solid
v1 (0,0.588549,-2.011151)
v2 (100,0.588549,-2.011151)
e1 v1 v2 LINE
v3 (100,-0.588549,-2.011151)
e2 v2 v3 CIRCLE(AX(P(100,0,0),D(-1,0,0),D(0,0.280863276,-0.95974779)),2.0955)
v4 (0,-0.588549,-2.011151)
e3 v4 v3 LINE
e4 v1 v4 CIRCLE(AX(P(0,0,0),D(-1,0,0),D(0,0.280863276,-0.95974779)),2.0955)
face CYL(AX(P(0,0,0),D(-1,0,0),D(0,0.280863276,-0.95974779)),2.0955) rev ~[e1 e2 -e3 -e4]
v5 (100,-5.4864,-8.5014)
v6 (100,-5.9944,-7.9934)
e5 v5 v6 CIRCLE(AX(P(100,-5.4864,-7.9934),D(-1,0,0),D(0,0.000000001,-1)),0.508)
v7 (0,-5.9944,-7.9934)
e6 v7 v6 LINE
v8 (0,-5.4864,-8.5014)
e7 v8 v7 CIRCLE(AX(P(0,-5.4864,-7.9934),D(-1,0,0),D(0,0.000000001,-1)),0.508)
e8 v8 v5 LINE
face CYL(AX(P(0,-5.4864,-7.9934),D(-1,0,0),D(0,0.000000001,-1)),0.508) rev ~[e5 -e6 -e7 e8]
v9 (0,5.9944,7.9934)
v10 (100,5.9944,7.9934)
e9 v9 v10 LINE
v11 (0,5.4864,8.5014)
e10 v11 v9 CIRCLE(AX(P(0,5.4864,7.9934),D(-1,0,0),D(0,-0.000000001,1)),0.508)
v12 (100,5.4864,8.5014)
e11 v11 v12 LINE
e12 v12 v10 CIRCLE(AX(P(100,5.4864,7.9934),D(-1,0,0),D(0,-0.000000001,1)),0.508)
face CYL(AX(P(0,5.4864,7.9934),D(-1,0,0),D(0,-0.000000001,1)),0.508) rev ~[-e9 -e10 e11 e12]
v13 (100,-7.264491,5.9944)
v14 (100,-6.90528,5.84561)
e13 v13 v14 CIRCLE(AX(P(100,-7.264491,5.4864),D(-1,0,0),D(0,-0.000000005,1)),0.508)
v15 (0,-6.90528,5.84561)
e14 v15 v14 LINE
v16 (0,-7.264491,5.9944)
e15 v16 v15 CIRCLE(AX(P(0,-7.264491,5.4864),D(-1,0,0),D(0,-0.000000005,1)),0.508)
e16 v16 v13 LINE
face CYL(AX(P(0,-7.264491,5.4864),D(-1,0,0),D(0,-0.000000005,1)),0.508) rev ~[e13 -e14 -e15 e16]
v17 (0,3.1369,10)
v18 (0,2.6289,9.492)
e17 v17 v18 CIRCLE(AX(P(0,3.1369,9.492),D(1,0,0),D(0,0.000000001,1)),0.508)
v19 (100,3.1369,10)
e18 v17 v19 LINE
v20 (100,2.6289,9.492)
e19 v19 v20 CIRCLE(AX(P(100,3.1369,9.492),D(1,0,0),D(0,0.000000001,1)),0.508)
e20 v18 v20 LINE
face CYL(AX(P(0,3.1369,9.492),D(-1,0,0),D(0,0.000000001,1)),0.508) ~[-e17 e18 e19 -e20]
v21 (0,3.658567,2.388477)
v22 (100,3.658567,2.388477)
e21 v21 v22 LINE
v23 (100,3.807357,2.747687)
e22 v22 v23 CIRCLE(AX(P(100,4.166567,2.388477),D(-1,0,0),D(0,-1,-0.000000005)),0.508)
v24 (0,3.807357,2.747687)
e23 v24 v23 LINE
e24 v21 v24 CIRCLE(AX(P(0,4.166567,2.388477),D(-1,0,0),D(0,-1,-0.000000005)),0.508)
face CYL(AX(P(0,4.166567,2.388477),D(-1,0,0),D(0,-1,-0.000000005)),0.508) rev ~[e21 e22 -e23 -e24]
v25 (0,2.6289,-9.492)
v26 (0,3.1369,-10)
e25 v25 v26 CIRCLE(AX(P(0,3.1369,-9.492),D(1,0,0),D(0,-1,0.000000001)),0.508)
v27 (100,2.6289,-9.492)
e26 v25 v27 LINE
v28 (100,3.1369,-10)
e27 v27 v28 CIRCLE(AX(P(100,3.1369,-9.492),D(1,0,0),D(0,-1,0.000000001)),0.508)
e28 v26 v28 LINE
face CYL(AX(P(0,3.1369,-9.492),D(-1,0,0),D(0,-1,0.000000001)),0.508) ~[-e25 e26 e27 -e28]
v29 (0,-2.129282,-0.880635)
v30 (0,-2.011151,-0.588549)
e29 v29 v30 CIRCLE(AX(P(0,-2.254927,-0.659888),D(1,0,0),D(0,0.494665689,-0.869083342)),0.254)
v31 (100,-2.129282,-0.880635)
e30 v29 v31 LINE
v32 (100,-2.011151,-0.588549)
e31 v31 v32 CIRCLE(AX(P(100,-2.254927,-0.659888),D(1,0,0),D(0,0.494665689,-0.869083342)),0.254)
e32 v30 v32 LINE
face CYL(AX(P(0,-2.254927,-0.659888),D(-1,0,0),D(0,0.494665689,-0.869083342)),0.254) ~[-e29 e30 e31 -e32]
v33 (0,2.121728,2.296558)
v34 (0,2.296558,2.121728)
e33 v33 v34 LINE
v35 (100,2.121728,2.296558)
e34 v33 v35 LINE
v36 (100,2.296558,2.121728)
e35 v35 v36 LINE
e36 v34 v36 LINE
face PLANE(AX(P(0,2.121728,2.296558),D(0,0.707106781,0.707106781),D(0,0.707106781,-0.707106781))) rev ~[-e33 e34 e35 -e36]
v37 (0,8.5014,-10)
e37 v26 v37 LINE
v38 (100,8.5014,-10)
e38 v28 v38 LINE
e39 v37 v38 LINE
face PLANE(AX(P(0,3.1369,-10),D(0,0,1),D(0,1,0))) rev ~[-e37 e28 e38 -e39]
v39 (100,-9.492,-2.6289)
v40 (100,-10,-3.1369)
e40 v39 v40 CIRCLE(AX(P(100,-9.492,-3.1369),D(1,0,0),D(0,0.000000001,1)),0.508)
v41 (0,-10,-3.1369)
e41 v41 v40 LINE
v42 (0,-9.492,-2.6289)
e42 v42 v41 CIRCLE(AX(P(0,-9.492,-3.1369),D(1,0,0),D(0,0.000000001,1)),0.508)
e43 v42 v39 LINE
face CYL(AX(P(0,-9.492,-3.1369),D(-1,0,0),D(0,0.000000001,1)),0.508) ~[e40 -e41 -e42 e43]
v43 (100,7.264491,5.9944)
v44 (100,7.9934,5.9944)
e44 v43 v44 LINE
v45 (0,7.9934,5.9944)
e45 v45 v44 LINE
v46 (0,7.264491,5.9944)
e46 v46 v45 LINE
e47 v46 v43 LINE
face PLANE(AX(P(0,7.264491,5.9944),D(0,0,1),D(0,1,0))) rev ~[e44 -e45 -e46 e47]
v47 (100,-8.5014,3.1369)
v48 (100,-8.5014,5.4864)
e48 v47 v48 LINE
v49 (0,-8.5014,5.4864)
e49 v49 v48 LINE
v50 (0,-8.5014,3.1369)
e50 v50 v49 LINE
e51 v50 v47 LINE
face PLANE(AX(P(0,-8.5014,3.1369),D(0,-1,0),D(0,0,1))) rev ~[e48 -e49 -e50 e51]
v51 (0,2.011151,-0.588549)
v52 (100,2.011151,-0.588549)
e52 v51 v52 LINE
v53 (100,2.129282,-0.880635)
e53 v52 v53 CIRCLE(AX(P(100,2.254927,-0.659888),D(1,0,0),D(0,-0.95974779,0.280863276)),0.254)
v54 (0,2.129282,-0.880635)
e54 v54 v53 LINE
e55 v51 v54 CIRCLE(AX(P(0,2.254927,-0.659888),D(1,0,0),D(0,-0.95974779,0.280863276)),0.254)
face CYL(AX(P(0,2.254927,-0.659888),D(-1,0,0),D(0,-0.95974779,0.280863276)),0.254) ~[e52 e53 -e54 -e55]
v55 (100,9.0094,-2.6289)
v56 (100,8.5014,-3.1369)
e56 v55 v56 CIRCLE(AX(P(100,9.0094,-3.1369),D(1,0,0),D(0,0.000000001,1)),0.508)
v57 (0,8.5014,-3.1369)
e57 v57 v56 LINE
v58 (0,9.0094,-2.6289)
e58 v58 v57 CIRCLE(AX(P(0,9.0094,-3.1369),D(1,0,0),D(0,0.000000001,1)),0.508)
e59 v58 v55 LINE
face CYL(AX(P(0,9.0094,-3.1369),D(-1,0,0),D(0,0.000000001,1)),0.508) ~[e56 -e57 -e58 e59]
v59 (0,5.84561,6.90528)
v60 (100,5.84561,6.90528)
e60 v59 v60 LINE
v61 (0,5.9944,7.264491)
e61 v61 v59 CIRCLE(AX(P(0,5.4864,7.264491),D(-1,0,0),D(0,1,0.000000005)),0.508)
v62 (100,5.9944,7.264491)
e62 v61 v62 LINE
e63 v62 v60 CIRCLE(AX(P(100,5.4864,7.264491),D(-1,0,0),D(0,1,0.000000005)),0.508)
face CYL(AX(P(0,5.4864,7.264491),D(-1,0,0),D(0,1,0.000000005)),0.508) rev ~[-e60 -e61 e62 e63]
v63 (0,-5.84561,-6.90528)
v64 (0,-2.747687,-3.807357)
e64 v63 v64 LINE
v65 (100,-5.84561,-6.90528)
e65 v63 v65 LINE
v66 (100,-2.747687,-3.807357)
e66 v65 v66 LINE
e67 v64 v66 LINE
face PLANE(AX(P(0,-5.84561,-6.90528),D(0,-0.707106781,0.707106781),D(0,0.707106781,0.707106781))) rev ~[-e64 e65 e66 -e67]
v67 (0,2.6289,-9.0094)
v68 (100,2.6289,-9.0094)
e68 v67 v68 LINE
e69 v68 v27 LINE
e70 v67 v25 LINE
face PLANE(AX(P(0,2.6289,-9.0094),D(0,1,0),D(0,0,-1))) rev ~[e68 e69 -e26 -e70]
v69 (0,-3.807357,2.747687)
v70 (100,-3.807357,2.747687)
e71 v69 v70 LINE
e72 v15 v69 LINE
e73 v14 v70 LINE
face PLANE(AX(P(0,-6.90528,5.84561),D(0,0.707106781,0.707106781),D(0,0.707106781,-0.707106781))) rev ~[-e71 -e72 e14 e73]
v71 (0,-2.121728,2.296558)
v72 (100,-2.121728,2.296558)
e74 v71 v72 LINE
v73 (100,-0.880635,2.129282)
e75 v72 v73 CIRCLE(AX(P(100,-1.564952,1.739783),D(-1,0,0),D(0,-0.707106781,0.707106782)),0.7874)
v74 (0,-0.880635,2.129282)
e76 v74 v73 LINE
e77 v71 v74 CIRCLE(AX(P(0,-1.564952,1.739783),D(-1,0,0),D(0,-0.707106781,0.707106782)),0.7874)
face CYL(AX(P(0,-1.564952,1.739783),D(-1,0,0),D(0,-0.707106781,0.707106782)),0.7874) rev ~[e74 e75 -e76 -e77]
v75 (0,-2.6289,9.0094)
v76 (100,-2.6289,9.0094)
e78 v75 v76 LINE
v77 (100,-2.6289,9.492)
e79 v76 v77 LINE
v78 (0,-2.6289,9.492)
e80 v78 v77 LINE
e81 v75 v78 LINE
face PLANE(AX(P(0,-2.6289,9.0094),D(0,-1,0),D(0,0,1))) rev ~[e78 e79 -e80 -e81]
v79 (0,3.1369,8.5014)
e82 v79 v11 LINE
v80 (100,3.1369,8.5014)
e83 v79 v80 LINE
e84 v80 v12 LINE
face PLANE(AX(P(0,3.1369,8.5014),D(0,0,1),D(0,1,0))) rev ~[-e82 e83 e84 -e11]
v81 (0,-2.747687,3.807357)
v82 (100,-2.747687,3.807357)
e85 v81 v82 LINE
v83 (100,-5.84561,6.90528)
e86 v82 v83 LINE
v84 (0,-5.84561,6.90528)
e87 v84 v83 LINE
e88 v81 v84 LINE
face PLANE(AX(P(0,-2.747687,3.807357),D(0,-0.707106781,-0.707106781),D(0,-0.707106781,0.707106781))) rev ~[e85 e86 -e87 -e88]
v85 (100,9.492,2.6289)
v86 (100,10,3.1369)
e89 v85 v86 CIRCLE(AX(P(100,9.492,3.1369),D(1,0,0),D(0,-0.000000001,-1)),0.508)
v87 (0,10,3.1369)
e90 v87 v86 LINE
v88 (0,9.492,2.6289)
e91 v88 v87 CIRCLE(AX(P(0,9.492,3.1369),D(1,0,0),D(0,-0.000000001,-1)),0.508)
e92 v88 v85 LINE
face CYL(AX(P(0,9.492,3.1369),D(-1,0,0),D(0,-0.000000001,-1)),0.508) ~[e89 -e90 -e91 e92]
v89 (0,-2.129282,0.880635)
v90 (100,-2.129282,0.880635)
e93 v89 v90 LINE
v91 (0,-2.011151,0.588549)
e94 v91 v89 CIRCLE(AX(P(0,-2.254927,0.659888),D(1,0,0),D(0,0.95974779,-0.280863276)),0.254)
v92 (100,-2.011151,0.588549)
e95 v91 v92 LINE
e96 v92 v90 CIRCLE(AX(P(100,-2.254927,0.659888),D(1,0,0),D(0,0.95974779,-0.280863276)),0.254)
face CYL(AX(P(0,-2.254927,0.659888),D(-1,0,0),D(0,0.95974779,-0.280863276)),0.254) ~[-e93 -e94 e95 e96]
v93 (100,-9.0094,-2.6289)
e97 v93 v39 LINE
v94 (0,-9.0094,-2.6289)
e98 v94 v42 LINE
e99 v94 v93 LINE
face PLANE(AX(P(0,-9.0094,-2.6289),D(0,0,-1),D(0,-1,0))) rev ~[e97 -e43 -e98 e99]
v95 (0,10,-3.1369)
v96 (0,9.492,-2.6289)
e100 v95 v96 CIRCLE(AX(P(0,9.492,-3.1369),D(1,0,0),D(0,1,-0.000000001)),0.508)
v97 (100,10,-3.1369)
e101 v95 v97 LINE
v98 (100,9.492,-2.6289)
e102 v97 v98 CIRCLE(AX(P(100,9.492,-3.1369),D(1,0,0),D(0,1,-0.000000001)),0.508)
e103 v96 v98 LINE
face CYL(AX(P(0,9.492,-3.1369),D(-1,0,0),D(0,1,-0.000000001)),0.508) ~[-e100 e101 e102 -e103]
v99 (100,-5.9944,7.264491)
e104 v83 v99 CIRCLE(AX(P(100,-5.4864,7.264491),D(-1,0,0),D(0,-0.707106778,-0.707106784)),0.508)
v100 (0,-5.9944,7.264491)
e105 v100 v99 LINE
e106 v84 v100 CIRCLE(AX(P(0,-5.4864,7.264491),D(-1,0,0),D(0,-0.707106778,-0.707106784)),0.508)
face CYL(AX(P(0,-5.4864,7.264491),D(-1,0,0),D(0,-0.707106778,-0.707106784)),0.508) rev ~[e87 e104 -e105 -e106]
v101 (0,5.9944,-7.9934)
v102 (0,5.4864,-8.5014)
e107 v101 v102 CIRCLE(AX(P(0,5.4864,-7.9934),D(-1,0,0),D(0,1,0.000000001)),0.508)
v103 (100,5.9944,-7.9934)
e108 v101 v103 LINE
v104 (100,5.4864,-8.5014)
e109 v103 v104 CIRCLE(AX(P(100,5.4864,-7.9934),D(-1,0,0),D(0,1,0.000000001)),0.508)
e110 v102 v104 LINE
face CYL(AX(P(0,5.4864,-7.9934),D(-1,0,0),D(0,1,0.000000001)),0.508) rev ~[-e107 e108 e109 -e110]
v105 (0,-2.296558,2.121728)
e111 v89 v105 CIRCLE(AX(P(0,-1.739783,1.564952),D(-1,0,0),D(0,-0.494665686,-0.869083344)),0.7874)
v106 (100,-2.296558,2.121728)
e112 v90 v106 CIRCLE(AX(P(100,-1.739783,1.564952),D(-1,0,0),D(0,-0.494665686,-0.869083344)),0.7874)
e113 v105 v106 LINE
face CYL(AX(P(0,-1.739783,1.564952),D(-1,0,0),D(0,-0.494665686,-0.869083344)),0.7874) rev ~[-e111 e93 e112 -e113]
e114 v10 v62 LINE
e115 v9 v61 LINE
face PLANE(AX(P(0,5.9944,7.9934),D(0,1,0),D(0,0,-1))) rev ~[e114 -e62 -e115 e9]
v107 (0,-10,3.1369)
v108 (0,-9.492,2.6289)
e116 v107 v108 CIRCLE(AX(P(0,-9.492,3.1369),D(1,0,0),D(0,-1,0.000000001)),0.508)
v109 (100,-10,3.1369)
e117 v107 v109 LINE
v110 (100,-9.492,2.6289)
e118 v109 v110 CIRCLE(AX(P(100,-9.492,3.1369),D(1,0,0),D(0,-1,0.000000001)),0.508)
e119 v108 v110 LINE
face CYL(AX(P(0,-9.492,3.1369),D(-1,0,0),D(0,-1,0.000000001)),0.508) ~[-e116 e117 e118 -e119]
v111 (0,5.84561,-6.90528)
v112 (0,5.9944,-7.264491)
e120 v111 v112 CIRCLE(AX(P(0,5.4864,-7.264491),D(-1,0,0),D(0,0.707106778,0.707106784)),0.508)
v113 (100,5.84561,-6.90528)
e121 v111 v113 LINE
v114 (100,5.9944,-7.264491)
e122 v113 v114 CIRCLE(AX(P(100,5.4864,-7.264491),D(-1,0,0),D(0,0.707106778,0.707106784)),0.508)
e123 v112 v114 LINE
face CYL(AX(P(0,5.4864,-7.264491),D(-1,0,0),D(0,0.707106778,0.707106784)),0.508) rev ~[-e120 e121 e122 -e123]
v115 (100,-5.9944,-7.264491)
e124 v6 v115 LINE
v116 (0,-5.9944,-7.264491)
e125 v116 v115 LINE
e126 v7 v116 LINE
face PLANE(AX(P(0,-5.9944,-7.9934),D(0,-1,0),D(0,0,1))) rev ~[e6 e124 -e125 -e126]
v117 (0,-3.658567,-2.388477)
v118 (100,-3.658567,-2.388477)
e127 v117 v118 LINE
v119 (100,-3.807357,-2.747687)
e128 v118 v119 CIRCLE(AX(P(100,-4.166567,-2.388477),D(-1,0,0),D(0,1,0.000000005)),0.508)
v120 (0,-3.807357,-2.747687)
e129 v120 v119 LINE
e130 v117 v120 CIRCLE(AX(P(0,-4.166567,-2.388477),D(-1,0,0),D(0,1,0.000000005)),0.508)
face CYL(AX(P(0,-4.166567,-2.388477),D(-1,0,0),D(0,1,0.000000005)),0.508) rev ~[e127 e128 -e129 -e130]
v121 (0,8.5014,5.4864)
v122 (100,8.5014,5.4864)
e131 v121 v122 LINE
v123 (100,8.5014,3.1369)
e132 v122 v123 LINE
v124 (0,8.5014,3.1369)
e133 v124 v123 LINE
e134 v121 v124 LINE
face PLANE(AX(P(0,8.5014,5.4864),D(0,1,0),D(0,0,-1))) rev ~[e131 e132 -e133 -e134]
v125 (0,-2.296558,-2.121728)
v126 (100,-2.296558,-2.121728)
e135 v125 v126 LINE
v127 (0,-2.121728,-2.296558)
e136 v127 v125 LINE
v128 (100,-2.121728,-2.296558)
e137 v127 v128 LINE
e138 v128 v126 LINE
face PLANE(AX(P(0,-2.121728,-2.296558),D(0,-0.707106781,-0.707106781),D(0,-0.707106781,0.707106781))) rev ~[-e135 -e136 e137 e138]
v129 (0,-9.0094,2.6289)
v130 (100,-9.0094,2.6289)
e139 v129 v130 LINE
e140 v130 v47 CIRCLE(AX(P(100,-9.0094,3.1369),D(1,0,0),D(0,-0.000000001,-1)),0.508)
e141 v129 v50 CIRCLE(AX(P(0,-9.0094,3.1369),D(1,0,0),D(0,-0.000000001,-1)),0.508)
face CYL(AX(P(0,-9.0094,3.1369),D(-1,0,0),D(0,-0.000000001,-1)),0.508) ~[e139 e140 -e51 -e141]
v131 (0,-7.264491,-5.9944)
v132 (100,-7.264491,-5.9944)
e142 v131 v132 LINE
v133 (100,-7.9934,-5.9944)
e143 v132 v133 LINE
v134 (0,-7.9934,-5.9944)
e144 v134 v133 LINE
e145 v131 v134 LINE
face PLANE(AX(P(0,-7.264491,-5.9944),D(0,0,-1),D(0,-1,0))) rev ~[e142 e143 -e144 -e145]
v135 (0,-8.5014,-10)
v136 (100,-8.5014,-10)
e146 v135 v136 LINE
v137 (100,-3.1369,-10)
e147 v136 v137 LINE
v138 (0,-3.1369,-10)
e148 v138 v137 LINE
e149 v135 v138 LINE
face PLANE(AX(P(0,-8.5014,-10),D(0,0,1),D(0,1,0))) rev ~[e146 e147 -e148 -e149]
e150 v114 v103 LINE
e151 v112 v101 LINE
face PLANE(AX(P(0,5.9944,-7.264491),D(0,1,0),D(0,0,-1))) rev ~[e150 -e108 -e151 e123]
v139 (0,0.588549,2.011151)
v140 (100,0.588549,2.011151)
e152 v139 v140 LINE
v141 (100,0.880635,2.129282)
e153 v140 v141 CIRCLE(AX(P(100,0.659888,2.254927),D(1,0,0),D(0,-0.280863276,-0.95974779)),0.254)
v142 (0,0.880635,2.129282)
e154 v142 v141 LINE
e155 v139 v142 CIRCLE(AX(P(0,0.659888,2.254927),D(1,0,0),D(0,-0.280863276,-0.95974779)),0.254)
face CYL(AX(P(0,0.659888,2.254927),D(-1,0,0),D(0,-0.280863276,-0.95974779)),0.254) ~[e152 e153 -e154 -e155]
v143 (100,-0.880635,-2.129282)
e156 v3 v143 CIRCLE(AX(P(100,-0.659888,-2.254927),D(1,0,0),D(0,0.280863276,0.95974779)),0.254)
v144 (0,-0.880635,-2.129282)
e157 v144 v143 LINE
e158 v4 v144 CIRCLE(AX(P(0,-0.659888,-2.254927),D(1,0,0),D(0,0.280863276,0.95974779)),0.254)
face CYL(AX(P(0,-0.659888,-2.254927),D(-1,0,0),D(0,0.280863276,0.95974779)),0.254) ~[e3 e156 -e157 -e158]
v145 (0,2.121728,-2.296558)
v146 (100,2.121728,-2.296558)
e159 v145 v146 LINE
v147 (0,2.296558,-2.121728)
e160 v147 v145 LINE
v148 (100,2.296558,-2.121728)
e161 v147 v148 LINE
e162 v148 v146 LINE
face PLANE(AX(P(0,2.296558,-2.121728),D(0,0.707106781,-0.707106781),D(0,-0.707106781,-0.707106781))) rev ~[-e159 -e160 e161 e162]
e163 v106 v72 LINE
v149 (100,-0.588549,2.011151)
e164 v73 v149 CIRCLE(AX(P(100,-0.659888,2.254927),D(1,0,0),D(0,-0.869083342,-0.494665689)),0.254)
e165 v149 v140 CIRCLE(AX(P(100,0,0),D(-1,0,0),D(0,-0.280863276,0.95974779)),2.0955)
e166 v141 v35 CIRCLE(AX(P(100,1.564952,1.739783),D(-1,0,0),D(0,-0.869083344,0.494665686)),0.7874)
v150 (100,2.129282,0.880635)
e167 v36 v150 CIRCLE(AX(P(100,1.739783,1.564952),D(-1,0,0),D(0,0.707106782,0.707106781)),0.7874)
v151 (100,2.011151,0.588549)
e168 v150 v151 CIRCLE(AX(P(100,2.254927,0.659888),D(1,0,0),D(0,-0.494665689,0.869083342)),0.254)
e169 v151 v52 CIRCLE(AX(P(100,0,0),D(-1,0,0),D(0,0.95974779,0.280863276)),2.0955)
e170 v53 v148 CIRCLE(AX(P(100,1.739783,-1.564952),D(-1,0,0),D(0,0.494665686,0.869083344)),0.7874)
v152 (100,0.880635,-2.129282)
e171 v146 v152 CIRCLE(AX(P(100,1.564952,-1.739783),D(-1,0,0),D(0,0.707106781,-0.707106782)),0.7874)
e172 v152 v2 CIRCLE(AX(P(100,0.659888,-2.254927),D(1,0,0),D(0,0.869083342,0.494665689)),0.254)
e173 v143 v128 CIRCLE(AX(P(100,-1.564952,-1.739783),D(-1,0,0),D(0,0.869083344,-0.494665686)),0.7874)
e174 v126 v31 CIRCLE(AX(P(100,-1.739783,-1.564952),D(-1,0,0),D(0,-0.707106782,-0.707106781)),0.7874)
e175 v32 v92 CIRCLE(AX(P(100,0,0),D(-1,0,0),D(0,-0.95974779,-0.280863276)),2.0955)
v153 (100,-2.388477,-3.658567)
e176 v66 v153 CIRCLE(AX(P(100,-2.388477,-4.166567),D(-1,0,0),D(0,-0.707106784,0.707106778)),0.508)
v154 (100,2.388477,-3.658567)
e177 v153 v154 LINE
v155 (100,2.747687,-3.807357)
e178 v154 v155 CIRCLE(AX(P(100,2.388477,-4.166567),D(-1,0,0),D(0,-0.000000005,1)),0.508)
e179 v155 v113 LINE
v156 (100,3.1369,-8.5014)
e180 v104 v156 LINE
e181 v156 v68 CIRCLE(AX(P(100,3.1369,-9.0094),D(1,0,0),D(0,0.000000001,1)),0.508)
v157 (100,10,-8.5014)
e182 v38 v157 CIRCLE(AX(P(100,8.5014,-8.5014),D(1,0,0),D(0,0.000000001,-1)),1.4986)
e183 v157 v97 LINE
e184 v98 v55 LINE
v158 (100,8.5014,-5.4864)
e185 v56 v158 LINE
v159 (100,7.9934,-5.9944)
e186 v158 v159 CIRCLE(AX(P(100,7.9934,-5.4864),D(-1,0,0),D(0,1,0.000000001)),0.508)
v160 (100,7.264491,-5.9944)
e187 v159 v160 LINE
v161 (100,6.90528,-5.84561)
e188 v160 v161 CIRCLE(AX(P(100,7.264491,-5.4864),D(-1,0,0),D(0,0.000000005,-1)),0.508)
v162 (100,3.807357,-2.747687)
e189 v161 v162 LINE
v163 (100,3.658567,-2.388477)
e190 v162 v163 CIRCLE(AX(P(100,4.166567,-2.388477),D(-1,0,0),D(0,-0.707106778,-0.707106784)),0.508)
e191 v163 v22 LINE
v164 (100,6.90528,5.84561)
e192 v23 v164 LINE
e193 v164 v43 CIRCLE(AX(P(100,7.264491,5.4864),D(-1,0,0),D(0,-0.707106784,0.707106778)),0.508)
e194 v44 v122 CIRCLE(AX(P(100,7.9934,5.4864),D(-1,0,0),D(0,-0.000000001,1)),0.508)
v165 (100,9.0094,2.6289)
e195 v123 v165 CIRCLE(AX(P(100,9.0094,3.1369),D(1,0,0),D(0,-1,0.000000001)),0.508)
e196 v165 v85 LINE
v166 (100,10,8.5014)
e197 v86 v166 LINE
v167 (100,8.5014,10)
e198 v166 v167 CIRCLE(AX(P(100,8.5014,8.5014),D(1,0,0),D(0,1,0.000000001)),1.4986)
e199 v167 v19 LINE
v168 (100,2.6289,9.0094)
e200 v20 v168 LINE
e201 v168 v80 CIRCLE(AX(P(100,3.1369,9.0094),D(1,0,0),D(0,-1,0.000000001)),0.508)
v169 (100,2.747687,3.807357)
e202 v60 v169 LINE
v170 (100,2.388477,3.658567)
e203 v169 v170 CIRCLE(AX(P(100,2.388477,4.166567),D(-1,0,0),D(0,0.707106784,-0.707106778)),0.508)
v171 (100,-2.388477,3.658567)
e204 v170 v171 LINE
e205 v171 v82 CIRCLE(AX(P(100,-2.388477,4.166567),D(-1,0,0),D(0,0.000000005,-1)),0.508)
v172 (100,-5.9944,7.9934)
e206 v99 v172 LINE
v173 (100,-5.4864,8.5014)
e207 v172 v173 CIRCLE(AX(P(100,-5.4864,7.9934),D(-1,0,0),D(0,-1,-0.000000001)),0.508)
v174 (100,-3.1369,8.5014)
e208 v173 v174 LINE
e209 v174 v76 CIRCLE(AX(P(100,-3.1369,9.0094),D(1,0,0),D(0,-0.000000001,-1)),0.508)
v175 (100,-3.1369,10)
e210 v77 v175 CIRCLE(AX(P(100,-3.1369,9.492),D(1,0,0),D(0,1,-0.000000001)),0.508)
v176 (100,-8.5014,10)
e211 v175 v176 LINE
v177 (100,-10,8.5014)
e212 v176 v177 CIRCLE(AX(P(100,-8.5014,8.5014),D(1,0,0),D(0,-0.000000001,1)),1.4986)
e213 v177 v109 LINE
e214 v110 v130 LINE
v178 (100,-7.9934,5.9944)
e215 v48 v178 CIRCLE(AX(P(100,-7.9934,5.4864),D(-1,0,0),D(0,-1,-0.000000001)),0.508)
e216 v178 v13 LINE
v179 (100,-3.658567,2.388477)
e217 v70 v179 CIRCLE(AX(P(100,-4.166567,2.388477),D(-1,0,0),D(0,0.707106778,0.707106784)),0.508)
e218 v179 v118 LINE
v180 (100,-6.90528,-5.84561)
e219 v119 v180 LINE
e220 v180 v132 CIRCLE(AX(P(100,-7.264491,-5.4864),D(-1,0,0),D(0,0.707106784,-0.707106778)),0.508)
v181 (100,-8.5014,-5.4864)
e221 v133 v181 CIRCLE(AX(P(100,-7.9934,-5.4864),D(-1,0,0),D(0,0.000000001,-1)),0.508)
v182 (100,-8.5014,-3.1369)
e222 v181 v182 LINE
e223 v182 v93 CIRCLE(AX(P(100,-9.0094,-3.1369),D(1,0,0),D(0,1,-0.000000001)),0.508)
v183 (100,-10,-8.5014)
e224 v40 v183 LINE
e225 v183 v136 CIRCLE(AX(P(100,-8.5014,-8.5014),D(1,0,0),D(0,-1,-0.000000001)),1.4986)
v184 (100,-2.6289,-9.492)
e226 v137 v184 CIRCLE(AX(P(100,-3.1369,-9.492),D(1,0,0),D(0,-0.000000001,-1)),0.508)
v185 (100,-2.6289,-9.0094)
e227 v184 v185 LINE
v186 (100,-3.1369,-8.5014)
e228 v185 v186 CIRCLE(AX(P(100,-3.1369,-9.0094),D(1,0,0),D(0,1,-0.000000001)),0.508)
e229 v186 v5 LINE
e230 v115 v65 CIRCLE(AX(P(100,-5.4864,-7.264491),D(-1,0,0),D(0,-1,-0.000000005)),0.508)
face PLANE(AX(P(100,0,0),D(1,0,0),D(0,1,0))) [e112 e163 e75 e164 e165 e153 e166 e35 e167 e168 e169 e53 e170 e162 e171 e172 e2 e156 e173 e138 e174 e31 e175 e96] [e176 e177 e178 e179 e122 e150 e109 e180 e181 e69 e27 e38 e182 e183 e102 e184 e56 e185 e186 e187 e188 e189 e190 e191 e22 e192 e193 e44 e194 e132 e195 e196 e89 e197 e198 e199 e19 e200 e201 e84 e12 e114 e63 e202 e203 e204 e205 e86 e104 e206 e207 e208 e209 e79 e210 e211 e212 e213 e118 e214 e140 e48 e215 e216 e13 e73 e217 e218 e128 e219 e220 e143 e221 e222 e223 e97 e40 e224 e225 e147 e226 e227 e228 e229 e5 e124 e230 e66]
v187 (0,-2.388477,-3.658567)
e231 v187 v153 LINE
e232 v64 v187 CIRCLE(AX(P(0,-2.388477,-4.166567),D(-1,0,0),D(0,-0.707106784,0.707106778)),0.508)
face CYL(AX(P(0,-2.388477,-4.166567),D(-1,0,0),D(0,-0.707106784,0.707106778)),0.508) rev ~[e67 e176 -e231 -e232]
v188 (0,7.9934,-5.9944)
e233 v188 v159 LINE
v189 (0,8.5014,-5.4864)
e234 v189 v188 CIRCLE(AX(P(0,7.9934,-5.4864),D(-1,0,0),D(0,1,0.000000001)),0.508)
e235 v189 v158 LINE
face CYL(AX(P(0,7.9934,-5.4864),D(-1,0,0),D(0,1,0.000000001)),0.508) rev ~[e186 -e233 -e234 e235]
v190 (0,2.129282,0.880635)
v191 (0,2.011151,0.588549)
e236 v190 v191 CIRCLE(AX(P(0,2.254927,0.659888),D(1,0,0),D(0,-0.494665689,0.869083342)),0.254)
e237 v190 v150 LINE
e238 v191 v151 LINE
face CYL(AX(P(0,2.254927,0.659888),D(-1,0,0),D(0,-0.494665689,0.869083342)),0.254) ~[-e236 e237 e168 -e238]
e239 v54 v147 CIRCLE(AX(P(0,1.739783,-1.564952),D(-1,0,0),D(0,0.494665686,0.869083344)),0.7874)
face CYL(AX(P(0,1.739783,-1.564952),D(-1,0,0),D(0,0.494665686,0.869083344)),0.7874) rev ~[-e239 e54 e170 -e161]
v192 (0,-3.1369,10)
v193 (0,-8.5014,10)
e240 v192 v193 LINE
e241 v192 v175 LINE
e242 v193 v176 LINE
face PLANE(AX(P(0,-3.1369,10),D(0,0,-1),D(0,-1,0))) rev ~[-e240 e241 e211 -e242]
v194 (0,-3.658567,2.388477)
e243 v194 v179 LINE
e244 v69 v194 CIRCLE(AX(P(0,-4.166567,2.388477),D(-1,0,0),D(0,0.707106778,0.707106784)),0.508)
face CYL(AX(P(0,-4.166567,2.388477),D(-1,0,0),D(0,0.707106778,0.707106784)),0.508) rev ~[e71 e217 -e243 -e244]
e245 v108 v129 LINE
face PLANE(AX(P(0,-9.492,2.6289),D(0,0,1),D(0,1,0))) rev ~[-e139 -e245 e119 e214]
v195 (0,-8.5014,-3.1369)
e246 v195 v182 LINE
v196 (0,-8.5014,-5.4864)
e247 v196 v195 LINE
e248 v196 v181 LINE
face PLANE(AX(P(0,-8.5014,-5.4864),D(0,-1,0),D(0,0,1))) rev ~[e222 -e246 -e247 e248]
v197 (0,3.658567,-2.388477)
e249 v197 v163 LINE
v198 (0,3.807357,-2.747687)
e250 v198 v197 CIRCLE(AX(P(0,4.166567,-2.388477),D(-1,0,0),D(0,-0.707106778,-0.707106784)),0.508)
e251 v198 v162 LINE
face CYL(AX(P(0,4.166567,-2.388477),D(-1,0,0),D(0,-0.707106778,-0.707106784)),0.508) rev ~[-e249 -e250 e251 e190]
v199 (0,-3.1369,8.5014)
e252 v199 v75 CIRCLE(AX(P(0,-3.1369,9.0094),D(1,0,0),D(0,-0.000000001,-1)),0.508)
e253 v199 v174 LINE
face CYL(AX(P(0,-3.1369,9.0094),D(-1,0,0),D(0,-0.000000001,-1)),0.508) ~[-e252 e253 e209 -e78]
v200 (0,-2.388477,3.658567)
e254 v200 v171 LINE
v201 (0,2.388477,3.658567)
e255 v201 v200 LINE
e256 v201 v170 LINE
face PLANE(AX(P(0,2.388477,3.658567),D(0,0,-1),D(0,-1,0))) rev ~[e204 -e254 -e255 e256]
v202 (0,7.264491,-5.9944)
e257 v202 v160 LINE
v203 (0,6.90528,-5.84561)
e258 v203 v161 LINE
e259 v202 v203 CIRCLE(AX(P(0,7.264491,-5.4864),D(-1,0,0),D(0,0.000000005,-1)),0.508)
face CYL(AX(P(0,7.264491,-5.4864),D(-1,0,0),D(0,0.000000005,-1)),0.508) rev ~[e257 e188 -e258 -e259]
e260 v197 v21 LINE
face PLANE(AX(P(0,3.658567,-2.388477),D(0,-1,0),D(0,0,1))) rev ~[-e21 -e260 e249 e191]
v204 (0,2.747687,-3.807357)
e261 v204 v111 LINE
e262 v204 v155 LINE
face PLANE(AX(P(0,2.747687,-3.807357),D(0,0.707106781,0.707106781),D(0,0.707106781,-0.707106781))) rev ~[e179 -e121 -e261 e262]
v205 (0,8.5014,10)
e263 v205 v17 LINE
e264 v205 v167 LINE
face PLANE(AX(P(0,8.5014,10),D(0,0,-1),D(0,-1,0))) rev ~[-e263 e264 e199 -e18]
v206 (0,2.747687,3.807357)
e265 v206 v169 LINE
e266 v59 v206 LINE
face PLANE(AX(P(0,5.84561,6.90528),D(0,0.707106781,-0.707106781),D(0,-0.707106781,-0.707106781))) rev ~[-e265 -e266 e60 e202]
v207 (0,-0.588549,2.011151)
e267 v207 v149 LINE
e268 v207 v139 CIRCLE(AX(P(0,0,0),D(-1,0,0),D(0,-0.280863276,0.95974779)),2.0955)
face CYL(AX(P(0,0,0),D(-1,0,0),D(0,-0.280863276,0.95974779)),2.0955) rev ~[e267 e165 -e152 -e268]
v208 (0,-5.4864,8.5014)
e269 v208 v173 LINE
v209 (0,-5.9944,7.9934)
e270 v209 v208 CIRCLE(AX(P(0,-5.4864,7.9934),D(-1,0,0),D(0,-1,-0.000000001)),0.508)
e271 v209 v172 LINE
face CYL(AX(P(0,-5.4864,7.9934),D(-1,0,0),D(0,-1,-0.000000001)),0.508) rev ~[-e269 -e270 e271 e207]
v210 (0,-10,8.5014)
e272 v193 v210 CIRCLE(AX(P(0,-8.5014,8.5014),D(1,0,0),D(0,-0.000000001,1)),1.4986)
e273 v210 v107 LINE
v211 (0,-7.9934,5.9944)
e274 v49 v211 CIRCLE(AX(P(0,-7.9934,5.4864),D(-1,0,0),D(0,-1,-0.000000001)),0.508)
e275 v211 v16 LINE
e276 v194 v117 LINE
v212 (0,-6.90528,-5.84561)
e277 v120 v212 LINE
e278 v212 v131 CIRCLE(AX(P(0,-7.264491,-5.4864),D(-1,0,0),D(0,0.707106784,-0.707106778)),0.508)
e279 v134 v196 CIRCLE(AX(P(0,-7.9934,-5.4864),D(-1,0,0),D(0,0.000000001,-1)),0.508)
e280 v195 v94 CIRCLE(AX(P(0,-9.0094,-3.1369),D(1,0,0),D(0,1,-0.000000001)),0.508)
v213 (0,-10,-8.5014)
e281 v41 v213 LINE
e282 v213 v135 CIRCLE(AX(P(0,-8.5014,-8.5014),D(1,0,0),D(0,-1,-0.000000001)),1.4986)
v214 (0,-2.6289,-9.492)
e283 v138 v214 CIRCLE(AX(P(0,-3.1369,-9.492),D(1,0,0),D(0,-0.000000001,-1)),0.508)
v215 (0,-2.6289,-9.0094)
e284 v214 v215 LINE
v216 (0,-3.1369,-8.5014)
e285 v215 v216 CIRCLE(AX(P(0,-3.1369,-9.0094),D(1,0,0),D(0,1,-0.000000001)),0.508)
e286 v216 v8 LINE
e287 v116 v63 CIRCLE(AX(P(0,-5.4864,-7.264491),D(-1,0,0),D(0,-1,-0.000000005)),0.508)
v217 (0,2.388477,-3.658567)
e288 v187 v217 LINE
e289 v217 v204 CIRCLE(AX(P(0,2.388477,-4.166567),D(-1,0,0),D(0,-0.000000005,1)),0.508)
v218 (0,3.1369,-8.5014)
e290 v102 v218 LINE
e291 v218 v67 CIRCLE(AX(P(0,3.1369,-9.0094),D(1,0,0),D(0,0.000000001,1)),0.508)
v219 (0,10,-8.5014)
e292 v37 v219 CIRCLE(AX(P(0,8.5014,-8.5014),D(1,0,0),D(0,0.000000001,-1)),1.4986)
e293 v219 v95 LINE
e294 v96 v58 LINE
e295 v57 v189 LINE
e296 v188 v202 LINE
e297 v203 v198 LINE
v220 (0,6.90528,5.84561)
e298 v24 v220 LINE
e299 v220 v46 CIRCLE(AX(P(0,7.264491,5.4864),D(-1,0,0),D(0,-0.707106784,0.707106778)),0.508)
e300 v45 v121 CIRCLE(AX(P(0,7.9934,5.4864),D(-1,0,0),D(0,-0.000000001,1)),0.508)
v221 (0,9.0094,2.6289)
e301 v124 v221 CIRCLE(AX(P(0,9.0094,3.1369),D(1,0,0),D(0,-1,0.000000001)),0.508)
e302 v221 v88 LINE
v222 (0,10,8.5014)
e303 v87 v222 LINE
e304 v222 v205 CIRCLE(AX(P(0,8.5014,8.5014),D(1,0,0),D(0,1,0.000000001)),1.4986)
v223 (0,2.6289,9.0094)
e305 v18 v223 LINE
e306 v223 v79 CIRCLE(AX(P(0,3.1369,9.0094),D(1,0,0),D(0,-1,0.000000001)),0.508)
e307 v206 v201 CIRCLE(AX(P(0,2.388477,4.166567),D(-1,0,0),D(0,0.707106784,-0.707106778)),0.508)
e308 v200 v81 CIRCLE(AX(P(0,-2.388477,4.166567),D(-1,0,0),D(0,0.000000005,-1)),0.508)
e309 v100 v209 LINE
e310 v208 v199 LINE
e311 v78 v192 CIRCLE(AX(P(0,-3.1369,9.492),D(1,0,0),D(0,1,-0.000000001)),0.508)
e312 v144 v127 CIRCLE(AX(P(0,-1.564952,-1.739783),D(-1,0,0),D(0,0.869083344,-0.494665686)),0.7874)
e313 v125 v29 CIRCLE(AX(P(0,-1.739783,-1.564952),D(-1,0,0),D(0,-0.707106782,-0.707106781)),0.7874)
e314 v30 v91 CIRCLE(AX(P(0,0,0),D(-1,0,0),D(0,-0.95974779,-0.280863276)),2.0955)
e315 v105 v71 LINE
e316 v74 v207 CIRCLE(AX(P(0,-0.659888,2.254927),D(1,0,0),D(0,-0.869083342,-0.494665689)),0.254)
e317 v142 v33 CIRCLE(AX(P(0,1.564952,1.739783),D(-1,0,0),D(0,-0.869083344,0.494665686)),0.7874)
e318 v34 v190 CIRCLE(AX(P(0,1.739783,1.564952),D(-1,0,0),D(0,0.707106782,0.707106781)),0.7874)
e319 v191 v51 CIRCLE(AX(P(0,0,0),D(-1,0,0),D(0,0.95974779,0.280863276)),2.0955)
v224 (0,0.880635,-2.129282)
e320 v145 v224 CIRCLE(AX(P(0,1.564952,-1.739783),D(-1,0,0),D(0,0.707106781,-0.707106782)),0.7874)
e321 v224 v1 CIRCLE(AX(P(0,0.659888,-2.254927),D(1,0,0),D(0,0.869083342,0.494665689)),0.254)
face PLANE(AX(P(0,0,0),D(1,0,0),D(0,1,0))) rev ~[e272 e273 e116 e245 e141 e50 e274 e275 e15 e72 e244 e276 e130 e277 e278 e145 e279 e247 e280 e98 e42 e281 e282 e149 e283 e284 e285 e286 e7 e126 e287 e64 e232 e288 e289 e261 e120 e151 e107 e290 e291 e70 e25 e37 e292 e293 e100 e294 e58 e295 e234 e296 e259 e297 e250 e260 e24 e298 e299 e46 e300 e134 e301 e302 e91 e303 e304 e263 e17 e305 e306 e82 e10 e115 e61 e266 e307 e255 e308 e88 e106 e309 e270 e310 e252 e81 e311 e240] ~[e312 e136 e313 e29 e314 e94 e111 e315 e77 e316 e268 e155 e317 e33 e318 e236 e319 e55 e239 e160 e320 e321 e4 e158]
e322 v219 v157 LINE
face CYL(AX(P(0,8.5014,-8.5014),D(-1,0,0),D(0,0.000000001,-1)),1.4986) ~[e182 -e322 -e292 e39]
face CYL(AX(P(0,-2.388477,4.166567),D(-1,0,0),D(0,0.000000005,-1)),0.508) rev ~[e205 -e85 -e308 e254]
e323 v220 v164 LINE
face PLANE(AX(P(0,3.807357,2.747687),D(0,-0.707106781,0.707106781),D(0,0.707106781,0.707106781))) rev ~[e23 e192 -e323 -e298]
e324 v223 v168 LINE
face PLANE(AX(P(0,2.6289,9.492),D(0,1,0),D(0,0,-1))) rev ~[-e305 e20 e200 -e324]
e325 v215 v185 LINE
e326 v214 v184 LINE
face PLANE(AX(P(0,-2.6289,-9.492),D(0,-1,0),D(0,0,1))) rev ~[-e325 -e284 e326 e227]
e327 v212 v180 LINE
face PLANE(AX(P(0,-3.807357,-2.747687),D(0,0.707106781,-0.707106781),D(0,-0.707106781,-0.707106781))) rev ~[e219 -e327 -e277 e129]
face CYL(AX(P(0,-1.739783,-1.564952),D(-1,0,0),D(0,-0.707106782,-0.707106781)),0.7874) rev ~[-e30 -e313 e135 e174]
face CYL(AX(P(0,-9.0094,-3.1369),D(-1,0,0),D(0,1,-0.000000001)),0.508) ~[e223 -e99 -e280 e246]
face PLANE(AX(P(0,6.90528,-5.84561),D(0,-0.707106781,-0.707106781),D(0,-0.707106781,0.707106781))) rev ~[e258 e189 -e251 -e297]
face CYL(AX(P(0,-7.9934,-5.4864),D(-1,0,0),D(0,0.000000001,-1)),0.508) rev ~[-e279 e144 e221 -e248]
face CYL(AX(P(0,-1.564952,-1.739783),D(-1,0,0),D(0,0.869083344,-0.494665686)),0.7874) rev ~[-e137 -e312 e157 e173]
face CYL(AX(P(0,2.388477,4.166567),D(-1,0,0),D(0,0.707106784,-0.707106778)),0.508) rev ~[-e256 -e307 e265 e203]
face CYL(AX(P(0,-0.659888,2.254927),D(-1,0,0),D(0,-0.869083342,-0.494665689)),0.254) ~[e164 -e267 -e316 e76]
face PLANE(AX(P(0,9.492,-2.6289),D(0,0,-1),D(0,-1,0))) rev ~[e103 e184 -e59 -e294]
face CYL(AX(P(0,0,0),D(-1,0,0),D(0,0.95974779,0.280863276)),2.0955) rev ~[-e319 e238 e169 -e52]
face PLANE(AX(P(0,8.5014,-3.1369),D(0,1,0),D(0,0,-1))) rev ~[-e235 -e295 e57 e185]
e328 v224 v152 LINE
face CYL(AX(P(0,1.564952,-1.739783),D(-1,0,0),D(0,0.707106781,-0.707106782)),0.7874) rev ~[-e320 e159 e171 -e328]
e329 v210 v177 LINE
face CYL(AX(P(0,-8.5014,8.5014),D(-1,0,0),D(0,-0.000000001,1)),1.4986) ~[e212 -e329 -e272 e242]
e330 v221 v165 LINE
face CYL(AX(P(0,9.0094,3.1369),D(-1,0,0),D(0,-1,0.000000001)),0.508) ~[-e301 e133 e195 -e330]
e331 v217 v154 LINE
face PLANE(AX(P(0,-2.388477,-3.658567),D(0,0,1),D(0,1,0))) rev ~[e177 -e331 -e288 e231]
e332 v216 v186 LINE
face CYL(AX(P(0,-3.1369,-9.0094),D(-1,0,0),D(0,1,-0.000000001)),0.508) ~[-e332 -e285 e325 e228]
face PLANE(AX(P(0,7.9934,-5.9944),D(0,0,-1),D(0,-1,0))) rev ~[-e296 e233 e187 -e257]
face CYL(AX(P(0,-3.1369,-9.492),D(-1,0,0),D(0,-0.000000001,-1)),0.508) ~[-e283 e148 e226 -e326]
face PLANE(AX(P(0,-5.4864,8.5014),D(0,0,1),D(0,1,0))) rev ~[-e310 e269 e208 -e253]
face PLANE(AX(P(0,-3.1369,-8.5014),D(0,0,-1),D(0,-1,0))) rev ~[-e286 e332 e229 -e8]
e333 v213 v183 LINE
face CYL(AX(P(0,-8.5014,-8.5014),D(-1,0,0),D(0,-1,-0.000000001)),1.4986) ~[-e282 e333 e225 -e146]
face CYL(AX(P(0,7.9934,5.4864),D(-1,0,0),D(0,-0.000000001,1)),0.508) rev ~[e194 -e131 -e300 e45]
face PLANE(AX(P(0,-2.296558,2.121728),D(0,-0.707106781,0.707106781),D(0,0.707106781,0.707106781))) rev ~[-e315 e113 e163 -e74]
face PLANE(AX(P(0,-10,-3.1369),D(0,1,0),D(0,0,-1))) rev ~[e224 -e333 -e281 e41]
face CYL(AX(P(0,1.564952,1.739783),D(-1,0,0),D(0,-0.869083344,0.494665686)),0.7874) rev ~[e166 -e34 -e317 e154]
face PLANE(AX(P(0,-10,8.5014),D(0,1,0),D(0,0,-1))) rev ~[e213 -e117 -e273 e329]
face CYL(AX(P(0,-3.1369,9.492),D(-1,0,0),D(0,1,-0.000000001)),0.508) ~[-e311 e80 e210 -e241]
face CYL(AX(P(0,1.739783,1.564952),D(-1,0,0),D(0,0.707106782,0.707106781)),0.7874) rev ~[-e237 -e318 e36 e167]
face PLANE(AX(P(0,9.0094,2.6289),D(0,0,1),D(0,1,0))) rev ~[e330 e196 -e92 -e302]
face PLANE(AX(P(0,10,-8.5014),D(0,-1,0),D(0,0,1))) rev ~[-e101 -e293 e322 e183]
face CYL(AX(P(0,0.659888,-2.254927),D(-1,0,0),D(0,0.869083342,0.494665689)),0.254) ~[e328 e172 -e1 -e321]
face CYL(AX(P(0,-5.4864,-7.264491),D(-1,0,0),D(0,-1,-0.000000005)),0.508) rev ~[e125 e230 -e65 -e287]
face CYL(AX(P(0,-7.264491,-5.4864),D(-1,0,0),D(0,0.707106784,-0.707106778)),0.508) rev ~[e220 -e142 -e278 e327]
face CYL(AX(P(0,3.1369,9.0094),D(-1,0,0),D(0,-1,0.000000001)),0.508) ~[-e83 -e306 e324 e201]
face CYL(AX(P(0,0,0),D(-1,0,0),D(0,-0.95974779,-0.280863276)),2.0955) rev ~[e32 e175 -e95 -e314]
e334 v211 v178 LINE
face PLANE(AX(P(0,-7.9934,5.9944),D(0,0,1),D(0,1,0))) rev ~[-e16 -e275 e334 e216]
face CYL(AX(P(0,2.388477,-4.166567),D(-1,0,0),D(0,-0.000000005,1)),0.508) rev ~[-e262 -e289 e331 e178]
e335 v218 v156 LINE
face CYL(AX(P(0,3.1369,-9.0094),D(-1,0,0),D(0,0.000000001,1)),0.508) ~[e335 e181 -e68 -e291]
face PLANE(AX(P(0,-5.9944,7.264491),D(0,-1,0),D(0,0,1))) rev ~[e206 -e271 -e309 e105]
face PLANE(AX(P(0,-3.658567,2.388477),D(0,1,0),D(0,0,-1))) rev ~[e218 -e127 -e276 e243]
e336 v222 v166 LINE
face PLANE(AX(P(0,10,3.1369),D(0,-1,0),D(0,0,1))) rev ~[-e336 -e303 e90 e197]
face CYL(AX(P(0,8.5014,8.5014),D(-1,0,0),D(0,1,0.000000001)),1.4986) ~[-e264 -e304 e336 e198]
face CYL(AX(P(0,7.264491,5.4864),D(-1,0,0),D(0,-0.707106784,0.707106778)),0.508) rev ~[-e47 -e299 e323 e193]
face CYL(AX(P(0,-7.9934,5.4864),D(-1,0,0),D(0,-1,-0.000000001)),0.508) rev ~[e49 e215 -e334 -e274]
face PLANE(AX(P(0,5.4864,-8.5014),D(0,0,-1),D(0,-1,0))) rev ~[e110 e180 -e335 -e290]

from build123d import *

# Parameters (mm, degrees)
F_20_SERIES_20_2020_1_DEPTH = 100


with BuildPart() as part:
    # Sketch11 → 20_series 20-2020(1) (new body)
    with BuildSketch(Plane.YZ):
        with BuildLine():
            Line((9.0094, 2.6289), (9.492, 2.6289))
            ThreePointArc((9.492, 2.6289), (9.851210245, 2.777689755), (10, 3.1369))
            Line((10, 3.1369), (10, 8.5014))
            ThreePointArc((10, 8.5014), (9.561070222, 9.561070222), (8.5014, 10))
            Line((8.5014, 10), (3.1369, 10))
            ThreePointArc((3.1369, 10), (2.777689755, 9.851210245), (2.6289, 9.492))
            Line((2.6289, 9.492), (2.6289, 9.0094))
            ThreePointArc((2.6289, 9.0094), (2.777689755, 8.650189755), (3.1369, 8.5014))
            Line((3.1369, 8.5014), (5.4864, 8.5014))
            ThreePointArc((5.4864, 8.5014), (5.845610245, 8.352610245), (5.9944, 7.9934))
            Line((5.9944, 7.9934), (5.9944, 7.264490712))
            ThreePointArc((5.9944, 7.264490712), (5.955730803, 7.070087528), (5.845610245, 6.905280467))
            Line((5.845610245, 6.905280467), (2.747686782, 3.807357004))
            ThreePointArc((2.747686782, 3.807357004), (2.582879721, 3.697236446), (2.388476537, 3.658567249))
            Line((2.388476537, 3.658567249), (-2.388476537, 3.658567249))
            ThreePointArc((-2.388476537, 3.658567249), (-2.582879721, 3.697236446), (-2.747686782, 3.807357004))
            Line((-2.747686782, 3.807357004), (-5.845610245, 6.905280467))
            ThreePointArc((-5.845610245, 6.905280467), (-5.955730803, 7.070087528), (-5.9944, 7.264490712))
            Line((-5.9944, 7.264490712), (-5.9944, 7.9934))
            ThreePointArc((-5.9944, 7.9934), (-5.845610245, 8.352610245), (-5.4864, 8.5014))
            Line((-5.4864, 8.5014), (-3.1369, 8.5014))
            ThreePointArc((-3.1369, 8.5014), (-2.777689755, 8.650189755), (-2.6289, 9.0094))
            Line((-2.6289, 9.0094), (-2.6289, 9.492))
            ThreePointArc((-2.6289, 9.492), (-2.777689755, 9.851210245), (-3.1369, 10))
            Line((-3.1369, 10), (-8.5014, 10))
            ThreePointArc((-8.5014, 10), (-9.561070222, 9.561070222), (-10, 8.5014))
            Line((-10, 8.5014), (-10, 3.1369))
            ThreePointArc((-10, 3.1369), (-9.851210245, 2.777689755), (-9.492, 2.6289))
            Line((-9.492, 2.6289), (-9.0094, 2.6289))
            ThreePointArc((-9.0094, 2.6289), (-8.650189755, 2.777689755), (-8.5014, 3.1369))
            Line((-8.5014, 3.1369), (-8.5014, 5.4864))
            ThreePointArc((-8.5014, 5.4864), (-8.352610245, 5.845610245), (-7.9934, 5.9944))
            Line((-7.9934, 5.9944), (-7.264490712, 5.9944))
            ThreePointArc((-7.264490712, 5.9944), (-7.070087528, 5.955730803), (-6.905280467, 5.845610245))
            Line((-6.905280467, 5.845610245), (-3.807357004, 2.747686782))
            ThreePointArc((-3.807357004, 2.747686782), (-3.697236446, 2.582879721), (-3.658567249, 2.388476537))
            Line((-3.658567249, 2.388476537), (-3.658567249, -2.388476537))
            ThreePointArc((-3.658567249, -2.388476537), (-3.697236446, -2.582879721), (-3.807357004, -2.747686782))
            Line((-3.807357004, -2.747686782), (-6.905280467, -5.845610245))
            ThreePointArc((-6.905280467, -5.845610245), (-7.070087528, -5.955730803), (-7.264490712, -5.9944))
            Line((-7.264490712, -5.9944), (-7.9934, -5.9944))
            ThreePointArc((-7.9934, -5.9944), (-8.352610245, -5.845610245), (-8.5014, -5.4864))
            Line((-8.5014, -5.4864), (-8.5014, -3.1369))
            ThreePointArc((-8.5014, -3.1369), (-8.650189755, -2.777689755), (-9.0094, -2.6289))
            Line((-9.0094, -2.6289), (-9.492, -2.6289))
            ThreePointArc((-9.492, -2.6289), (-9.851210245, -2.777689755), (-10, -3.1369))
            Line((-10, -3.1369), (-10, -8.5014))
            ThreePointArc((-10, -8.5014), (-9.561070222, -9.561070222), (-8.5014, -10))
            Line((-8.5014, -10), (-3.1369, -10))
            ThreePointArc((-3.1369, -10), (-2.777689755, -9.851210245), (-2.6289, -9.492))
            Line((-2.6289, -9.492), (-2.6289, -9.0094))
            ThreePointArc((-2.6289, -9.0094), (-2.777689755, -8.650189755), (-3.1369, -8.5014))
            Line((-3.1369, -8.5014), (-5.4864, -8.5014))
            ThreePointArc((-5.4864, -8.5014), (-5.845610245, -8.352610245), (-5.9944, -7.9934))
            Line((-5.9944, -7.9934), (-5.9944, -7.264490712))
            ThreePointArc((-5.9944, -7.264490712), (-5.955730803, -7.070087528), (-5.845610245, -6.905280467))
            Line((-5.845610245, -6.905280467), (-2.747686782, -3.807357004))
            ThreePointArc((-2.747686782, -3.807357004), (-2.582879721, -3.697236446), (-2.388476537, -3.658567249))
            Line((-2.388476537, -3.658567249), (2.388476537, -3.658567249))
            ThreePointArc((2.388476537, -3.658567249), (2.582879721, -3.697236446), (2.747686782, -3.807357004))
            Line((2.747686782, -3.807357004), (5.845610245, -6.905280467))
            ThreePointArc((5.845610245, -6.905280467), (5.955730803, -7.070087528), (5.9944, -7.264490712))
            Line((5.9944, -7.264490712), (5.9944, -7.9934))
            ThreePointArc((5.9944, -7.9934), (5.845610245, -8.352610245), (5.4864, -8.5014))
            Line((5.4864, -8.5014), (3.1369, -8.5014))
            ThreePointArc((3.1369, -8.5014), (2.777689755, -8.650189755), (2.6289, -9.0094))
            Line((2.6289, -9.0094), (2.6289, -9.492))
            ThreePointArc((2.6289, -9.492), (2.777689755, -9.851210245), (3.1369, -10))
            Line((3.1369, -10), (8.5014, -10))
            ThreePointArc((8.5014, -10), (9.561070222, -9.561070222), (10, -8.5014))
            Line((10, -8.5014), (10, -3.1369))
            ThreePointArc((10, -3.1369), (9.851210245, -2.777689755), (9.492, -2.6289))
            Line((9.492, -2.6289), (9.0094, -2.6289))
            ThreePointArc((9.0094, -2.6289), (8.650189755, -2.777689755), (8.5014, -3.1369))
            Line((8.5014, -3.1369), (8.5014, -5.4864))
            ThreePointArc((8.5014, -5.4864), (8.352610245, -5.845610245), (7.9934, -5.9944))
            Line((7.9934, -5.9944), (7.264490712, -5.9944))
            ThreePointArc((7.264490712, -5.9944), (7.070087528, -5.955730803), (6.905280467, -5.845610245))
            Line((6.905280467, -5.845610245), (3.807357004, -2.747686782))
            ThreePointArc((3.807357004, -2.747686782), (3.697236446, -2.582879721), (3.658567249, -2.388476537))
            Line((3.658567249, -2.388476537), (3.658567249, 2.388476537))
            ThreePointArc((3.658567249, 2.388476537), (3.697236446, 2.582879721), (3.807357004, 2.747686782))
            Line((3.807357004, 2.747686782), (6.905280467, 5.845610245))
            ThreePointArc((6.905280467, 5.845610245), (7.070087528, 5.955730803), (7.264490712, 5.9944))
            Line((7.264490712, 5.9944), (7.9934, 5.9944))
            ThreePointArc((7.9934, 5.9944), (8.352610245, 5.845610245), (8.5014, 5.4864))
            Line((8.5014, 5.4864), (8.5014, 3.1369))
            ThreePointArc((8.5014, 3.1369), (8.650189755, 2.777689755), (9.0094, 2.6289))
        make_face()
        with BuildLine():
            Line((-2.296558466, 2.121727546), (-2.121727546, 2.296558466))
            ThreePointArc((-2.121727546, 2.296558466), (-1.459775814, 2.520126613), (-0.880635441, 2.129282347))
            ThreePointArc((-0.880635441, 2.129282347), (-0.755121693, 2.019456424), (-0.588548999, 2.011151493))
            ThreePointArc((-0.588548999, 2.011151493), (0, 2.0955), (0.588548999, 2.011151493))
            ThreePointArc((0.588548999, 2.011151493), (0.755121693, 2.019456424), (0.880635441, 2.129282347))
            ThreePointArc((0.880635441, 2.129282347), (1.459775814, 2.520126613), (2.121727546, 2.296558466))
            Line((2.121727546, 2.296558466), (2.296558466, 2.121727546))
            ThreePointArc((2.296558466, 2.121727546), (2.520126613, 1.459775814), (2.129282347, 0.880635441))
            ThreePointArc((2.129282347, 0.880635441), (2.019456424, 0.755121693), (2.011151493, 0.588548999))
            ThreePointArc((2.011151493, 0.588548999), (2.0955, 0), (2.011151493, -0.588548999))
            ThreePointArc((2.011151493, -0.588548999), (2.019456424, -0.755121693), (2.129282347, -0.880635441))
            ThreePointArc((2.129282347, -0.880635441), (2.520126613, -1.459775814), (2.296558466, -2.121727546))
            Line((2.296558466, -2.121727546), (2.121727546, -2.296558466))
            ThreePointArc((2.121727546, -2.296558466), (1.459775814, -2.520126613), (0.880635441, -2.129282347))
            ThreePointArc((0.880635441, -2.129282347), (0.755121693, -2.019456424), (0.588548999, -2.011151493))
            ThreePointArc((0.588548999, -2.011151493), (0, -2.0955), (-0.588548999, -2.011151493))
            ThreePointArc((-0.588548999, -2.011151493), (-0.755121693, -2.019456424), (-0.880635441, -2.129282347))
            ThreePointArc((-0.880635441, -2.129282347), (-1.459775814, -2.520126613), (-2.121727546, -2.296558466))
            Line((-2.121727546, -2.296558466), (-2.296558466, -2.121727546))
            ThreePointArc((-2.296558466, -2.121727546), (-2.520126613, -1.459775814), (-2.129282347, -0.880635441))
            ThreePointArc((-2.129282347, -0.880635441), (-2.019456424, -0.755121693), (-2.011151493, -0.588548999))
            ThreePointArc((-2.011151493, -0.588548999), (-2.0955, 0), (-2.011151493, 0.588548999))
            ThreePointArc((-2.011151493, 0.588548999), (-2.019456424, 0.755121693), (-2.129282347, 0.880635441))
            ThreePointArc((-2.129282347, 0.880635441), (-2.520126613, 1.459775814), (-2.296558466, 2.121727546))
        make_face(mode=Mode.SUBTRACT)
    extrude(amount=F_20_SERIES_20_2020_1_DEPTH)


solid = part.part
